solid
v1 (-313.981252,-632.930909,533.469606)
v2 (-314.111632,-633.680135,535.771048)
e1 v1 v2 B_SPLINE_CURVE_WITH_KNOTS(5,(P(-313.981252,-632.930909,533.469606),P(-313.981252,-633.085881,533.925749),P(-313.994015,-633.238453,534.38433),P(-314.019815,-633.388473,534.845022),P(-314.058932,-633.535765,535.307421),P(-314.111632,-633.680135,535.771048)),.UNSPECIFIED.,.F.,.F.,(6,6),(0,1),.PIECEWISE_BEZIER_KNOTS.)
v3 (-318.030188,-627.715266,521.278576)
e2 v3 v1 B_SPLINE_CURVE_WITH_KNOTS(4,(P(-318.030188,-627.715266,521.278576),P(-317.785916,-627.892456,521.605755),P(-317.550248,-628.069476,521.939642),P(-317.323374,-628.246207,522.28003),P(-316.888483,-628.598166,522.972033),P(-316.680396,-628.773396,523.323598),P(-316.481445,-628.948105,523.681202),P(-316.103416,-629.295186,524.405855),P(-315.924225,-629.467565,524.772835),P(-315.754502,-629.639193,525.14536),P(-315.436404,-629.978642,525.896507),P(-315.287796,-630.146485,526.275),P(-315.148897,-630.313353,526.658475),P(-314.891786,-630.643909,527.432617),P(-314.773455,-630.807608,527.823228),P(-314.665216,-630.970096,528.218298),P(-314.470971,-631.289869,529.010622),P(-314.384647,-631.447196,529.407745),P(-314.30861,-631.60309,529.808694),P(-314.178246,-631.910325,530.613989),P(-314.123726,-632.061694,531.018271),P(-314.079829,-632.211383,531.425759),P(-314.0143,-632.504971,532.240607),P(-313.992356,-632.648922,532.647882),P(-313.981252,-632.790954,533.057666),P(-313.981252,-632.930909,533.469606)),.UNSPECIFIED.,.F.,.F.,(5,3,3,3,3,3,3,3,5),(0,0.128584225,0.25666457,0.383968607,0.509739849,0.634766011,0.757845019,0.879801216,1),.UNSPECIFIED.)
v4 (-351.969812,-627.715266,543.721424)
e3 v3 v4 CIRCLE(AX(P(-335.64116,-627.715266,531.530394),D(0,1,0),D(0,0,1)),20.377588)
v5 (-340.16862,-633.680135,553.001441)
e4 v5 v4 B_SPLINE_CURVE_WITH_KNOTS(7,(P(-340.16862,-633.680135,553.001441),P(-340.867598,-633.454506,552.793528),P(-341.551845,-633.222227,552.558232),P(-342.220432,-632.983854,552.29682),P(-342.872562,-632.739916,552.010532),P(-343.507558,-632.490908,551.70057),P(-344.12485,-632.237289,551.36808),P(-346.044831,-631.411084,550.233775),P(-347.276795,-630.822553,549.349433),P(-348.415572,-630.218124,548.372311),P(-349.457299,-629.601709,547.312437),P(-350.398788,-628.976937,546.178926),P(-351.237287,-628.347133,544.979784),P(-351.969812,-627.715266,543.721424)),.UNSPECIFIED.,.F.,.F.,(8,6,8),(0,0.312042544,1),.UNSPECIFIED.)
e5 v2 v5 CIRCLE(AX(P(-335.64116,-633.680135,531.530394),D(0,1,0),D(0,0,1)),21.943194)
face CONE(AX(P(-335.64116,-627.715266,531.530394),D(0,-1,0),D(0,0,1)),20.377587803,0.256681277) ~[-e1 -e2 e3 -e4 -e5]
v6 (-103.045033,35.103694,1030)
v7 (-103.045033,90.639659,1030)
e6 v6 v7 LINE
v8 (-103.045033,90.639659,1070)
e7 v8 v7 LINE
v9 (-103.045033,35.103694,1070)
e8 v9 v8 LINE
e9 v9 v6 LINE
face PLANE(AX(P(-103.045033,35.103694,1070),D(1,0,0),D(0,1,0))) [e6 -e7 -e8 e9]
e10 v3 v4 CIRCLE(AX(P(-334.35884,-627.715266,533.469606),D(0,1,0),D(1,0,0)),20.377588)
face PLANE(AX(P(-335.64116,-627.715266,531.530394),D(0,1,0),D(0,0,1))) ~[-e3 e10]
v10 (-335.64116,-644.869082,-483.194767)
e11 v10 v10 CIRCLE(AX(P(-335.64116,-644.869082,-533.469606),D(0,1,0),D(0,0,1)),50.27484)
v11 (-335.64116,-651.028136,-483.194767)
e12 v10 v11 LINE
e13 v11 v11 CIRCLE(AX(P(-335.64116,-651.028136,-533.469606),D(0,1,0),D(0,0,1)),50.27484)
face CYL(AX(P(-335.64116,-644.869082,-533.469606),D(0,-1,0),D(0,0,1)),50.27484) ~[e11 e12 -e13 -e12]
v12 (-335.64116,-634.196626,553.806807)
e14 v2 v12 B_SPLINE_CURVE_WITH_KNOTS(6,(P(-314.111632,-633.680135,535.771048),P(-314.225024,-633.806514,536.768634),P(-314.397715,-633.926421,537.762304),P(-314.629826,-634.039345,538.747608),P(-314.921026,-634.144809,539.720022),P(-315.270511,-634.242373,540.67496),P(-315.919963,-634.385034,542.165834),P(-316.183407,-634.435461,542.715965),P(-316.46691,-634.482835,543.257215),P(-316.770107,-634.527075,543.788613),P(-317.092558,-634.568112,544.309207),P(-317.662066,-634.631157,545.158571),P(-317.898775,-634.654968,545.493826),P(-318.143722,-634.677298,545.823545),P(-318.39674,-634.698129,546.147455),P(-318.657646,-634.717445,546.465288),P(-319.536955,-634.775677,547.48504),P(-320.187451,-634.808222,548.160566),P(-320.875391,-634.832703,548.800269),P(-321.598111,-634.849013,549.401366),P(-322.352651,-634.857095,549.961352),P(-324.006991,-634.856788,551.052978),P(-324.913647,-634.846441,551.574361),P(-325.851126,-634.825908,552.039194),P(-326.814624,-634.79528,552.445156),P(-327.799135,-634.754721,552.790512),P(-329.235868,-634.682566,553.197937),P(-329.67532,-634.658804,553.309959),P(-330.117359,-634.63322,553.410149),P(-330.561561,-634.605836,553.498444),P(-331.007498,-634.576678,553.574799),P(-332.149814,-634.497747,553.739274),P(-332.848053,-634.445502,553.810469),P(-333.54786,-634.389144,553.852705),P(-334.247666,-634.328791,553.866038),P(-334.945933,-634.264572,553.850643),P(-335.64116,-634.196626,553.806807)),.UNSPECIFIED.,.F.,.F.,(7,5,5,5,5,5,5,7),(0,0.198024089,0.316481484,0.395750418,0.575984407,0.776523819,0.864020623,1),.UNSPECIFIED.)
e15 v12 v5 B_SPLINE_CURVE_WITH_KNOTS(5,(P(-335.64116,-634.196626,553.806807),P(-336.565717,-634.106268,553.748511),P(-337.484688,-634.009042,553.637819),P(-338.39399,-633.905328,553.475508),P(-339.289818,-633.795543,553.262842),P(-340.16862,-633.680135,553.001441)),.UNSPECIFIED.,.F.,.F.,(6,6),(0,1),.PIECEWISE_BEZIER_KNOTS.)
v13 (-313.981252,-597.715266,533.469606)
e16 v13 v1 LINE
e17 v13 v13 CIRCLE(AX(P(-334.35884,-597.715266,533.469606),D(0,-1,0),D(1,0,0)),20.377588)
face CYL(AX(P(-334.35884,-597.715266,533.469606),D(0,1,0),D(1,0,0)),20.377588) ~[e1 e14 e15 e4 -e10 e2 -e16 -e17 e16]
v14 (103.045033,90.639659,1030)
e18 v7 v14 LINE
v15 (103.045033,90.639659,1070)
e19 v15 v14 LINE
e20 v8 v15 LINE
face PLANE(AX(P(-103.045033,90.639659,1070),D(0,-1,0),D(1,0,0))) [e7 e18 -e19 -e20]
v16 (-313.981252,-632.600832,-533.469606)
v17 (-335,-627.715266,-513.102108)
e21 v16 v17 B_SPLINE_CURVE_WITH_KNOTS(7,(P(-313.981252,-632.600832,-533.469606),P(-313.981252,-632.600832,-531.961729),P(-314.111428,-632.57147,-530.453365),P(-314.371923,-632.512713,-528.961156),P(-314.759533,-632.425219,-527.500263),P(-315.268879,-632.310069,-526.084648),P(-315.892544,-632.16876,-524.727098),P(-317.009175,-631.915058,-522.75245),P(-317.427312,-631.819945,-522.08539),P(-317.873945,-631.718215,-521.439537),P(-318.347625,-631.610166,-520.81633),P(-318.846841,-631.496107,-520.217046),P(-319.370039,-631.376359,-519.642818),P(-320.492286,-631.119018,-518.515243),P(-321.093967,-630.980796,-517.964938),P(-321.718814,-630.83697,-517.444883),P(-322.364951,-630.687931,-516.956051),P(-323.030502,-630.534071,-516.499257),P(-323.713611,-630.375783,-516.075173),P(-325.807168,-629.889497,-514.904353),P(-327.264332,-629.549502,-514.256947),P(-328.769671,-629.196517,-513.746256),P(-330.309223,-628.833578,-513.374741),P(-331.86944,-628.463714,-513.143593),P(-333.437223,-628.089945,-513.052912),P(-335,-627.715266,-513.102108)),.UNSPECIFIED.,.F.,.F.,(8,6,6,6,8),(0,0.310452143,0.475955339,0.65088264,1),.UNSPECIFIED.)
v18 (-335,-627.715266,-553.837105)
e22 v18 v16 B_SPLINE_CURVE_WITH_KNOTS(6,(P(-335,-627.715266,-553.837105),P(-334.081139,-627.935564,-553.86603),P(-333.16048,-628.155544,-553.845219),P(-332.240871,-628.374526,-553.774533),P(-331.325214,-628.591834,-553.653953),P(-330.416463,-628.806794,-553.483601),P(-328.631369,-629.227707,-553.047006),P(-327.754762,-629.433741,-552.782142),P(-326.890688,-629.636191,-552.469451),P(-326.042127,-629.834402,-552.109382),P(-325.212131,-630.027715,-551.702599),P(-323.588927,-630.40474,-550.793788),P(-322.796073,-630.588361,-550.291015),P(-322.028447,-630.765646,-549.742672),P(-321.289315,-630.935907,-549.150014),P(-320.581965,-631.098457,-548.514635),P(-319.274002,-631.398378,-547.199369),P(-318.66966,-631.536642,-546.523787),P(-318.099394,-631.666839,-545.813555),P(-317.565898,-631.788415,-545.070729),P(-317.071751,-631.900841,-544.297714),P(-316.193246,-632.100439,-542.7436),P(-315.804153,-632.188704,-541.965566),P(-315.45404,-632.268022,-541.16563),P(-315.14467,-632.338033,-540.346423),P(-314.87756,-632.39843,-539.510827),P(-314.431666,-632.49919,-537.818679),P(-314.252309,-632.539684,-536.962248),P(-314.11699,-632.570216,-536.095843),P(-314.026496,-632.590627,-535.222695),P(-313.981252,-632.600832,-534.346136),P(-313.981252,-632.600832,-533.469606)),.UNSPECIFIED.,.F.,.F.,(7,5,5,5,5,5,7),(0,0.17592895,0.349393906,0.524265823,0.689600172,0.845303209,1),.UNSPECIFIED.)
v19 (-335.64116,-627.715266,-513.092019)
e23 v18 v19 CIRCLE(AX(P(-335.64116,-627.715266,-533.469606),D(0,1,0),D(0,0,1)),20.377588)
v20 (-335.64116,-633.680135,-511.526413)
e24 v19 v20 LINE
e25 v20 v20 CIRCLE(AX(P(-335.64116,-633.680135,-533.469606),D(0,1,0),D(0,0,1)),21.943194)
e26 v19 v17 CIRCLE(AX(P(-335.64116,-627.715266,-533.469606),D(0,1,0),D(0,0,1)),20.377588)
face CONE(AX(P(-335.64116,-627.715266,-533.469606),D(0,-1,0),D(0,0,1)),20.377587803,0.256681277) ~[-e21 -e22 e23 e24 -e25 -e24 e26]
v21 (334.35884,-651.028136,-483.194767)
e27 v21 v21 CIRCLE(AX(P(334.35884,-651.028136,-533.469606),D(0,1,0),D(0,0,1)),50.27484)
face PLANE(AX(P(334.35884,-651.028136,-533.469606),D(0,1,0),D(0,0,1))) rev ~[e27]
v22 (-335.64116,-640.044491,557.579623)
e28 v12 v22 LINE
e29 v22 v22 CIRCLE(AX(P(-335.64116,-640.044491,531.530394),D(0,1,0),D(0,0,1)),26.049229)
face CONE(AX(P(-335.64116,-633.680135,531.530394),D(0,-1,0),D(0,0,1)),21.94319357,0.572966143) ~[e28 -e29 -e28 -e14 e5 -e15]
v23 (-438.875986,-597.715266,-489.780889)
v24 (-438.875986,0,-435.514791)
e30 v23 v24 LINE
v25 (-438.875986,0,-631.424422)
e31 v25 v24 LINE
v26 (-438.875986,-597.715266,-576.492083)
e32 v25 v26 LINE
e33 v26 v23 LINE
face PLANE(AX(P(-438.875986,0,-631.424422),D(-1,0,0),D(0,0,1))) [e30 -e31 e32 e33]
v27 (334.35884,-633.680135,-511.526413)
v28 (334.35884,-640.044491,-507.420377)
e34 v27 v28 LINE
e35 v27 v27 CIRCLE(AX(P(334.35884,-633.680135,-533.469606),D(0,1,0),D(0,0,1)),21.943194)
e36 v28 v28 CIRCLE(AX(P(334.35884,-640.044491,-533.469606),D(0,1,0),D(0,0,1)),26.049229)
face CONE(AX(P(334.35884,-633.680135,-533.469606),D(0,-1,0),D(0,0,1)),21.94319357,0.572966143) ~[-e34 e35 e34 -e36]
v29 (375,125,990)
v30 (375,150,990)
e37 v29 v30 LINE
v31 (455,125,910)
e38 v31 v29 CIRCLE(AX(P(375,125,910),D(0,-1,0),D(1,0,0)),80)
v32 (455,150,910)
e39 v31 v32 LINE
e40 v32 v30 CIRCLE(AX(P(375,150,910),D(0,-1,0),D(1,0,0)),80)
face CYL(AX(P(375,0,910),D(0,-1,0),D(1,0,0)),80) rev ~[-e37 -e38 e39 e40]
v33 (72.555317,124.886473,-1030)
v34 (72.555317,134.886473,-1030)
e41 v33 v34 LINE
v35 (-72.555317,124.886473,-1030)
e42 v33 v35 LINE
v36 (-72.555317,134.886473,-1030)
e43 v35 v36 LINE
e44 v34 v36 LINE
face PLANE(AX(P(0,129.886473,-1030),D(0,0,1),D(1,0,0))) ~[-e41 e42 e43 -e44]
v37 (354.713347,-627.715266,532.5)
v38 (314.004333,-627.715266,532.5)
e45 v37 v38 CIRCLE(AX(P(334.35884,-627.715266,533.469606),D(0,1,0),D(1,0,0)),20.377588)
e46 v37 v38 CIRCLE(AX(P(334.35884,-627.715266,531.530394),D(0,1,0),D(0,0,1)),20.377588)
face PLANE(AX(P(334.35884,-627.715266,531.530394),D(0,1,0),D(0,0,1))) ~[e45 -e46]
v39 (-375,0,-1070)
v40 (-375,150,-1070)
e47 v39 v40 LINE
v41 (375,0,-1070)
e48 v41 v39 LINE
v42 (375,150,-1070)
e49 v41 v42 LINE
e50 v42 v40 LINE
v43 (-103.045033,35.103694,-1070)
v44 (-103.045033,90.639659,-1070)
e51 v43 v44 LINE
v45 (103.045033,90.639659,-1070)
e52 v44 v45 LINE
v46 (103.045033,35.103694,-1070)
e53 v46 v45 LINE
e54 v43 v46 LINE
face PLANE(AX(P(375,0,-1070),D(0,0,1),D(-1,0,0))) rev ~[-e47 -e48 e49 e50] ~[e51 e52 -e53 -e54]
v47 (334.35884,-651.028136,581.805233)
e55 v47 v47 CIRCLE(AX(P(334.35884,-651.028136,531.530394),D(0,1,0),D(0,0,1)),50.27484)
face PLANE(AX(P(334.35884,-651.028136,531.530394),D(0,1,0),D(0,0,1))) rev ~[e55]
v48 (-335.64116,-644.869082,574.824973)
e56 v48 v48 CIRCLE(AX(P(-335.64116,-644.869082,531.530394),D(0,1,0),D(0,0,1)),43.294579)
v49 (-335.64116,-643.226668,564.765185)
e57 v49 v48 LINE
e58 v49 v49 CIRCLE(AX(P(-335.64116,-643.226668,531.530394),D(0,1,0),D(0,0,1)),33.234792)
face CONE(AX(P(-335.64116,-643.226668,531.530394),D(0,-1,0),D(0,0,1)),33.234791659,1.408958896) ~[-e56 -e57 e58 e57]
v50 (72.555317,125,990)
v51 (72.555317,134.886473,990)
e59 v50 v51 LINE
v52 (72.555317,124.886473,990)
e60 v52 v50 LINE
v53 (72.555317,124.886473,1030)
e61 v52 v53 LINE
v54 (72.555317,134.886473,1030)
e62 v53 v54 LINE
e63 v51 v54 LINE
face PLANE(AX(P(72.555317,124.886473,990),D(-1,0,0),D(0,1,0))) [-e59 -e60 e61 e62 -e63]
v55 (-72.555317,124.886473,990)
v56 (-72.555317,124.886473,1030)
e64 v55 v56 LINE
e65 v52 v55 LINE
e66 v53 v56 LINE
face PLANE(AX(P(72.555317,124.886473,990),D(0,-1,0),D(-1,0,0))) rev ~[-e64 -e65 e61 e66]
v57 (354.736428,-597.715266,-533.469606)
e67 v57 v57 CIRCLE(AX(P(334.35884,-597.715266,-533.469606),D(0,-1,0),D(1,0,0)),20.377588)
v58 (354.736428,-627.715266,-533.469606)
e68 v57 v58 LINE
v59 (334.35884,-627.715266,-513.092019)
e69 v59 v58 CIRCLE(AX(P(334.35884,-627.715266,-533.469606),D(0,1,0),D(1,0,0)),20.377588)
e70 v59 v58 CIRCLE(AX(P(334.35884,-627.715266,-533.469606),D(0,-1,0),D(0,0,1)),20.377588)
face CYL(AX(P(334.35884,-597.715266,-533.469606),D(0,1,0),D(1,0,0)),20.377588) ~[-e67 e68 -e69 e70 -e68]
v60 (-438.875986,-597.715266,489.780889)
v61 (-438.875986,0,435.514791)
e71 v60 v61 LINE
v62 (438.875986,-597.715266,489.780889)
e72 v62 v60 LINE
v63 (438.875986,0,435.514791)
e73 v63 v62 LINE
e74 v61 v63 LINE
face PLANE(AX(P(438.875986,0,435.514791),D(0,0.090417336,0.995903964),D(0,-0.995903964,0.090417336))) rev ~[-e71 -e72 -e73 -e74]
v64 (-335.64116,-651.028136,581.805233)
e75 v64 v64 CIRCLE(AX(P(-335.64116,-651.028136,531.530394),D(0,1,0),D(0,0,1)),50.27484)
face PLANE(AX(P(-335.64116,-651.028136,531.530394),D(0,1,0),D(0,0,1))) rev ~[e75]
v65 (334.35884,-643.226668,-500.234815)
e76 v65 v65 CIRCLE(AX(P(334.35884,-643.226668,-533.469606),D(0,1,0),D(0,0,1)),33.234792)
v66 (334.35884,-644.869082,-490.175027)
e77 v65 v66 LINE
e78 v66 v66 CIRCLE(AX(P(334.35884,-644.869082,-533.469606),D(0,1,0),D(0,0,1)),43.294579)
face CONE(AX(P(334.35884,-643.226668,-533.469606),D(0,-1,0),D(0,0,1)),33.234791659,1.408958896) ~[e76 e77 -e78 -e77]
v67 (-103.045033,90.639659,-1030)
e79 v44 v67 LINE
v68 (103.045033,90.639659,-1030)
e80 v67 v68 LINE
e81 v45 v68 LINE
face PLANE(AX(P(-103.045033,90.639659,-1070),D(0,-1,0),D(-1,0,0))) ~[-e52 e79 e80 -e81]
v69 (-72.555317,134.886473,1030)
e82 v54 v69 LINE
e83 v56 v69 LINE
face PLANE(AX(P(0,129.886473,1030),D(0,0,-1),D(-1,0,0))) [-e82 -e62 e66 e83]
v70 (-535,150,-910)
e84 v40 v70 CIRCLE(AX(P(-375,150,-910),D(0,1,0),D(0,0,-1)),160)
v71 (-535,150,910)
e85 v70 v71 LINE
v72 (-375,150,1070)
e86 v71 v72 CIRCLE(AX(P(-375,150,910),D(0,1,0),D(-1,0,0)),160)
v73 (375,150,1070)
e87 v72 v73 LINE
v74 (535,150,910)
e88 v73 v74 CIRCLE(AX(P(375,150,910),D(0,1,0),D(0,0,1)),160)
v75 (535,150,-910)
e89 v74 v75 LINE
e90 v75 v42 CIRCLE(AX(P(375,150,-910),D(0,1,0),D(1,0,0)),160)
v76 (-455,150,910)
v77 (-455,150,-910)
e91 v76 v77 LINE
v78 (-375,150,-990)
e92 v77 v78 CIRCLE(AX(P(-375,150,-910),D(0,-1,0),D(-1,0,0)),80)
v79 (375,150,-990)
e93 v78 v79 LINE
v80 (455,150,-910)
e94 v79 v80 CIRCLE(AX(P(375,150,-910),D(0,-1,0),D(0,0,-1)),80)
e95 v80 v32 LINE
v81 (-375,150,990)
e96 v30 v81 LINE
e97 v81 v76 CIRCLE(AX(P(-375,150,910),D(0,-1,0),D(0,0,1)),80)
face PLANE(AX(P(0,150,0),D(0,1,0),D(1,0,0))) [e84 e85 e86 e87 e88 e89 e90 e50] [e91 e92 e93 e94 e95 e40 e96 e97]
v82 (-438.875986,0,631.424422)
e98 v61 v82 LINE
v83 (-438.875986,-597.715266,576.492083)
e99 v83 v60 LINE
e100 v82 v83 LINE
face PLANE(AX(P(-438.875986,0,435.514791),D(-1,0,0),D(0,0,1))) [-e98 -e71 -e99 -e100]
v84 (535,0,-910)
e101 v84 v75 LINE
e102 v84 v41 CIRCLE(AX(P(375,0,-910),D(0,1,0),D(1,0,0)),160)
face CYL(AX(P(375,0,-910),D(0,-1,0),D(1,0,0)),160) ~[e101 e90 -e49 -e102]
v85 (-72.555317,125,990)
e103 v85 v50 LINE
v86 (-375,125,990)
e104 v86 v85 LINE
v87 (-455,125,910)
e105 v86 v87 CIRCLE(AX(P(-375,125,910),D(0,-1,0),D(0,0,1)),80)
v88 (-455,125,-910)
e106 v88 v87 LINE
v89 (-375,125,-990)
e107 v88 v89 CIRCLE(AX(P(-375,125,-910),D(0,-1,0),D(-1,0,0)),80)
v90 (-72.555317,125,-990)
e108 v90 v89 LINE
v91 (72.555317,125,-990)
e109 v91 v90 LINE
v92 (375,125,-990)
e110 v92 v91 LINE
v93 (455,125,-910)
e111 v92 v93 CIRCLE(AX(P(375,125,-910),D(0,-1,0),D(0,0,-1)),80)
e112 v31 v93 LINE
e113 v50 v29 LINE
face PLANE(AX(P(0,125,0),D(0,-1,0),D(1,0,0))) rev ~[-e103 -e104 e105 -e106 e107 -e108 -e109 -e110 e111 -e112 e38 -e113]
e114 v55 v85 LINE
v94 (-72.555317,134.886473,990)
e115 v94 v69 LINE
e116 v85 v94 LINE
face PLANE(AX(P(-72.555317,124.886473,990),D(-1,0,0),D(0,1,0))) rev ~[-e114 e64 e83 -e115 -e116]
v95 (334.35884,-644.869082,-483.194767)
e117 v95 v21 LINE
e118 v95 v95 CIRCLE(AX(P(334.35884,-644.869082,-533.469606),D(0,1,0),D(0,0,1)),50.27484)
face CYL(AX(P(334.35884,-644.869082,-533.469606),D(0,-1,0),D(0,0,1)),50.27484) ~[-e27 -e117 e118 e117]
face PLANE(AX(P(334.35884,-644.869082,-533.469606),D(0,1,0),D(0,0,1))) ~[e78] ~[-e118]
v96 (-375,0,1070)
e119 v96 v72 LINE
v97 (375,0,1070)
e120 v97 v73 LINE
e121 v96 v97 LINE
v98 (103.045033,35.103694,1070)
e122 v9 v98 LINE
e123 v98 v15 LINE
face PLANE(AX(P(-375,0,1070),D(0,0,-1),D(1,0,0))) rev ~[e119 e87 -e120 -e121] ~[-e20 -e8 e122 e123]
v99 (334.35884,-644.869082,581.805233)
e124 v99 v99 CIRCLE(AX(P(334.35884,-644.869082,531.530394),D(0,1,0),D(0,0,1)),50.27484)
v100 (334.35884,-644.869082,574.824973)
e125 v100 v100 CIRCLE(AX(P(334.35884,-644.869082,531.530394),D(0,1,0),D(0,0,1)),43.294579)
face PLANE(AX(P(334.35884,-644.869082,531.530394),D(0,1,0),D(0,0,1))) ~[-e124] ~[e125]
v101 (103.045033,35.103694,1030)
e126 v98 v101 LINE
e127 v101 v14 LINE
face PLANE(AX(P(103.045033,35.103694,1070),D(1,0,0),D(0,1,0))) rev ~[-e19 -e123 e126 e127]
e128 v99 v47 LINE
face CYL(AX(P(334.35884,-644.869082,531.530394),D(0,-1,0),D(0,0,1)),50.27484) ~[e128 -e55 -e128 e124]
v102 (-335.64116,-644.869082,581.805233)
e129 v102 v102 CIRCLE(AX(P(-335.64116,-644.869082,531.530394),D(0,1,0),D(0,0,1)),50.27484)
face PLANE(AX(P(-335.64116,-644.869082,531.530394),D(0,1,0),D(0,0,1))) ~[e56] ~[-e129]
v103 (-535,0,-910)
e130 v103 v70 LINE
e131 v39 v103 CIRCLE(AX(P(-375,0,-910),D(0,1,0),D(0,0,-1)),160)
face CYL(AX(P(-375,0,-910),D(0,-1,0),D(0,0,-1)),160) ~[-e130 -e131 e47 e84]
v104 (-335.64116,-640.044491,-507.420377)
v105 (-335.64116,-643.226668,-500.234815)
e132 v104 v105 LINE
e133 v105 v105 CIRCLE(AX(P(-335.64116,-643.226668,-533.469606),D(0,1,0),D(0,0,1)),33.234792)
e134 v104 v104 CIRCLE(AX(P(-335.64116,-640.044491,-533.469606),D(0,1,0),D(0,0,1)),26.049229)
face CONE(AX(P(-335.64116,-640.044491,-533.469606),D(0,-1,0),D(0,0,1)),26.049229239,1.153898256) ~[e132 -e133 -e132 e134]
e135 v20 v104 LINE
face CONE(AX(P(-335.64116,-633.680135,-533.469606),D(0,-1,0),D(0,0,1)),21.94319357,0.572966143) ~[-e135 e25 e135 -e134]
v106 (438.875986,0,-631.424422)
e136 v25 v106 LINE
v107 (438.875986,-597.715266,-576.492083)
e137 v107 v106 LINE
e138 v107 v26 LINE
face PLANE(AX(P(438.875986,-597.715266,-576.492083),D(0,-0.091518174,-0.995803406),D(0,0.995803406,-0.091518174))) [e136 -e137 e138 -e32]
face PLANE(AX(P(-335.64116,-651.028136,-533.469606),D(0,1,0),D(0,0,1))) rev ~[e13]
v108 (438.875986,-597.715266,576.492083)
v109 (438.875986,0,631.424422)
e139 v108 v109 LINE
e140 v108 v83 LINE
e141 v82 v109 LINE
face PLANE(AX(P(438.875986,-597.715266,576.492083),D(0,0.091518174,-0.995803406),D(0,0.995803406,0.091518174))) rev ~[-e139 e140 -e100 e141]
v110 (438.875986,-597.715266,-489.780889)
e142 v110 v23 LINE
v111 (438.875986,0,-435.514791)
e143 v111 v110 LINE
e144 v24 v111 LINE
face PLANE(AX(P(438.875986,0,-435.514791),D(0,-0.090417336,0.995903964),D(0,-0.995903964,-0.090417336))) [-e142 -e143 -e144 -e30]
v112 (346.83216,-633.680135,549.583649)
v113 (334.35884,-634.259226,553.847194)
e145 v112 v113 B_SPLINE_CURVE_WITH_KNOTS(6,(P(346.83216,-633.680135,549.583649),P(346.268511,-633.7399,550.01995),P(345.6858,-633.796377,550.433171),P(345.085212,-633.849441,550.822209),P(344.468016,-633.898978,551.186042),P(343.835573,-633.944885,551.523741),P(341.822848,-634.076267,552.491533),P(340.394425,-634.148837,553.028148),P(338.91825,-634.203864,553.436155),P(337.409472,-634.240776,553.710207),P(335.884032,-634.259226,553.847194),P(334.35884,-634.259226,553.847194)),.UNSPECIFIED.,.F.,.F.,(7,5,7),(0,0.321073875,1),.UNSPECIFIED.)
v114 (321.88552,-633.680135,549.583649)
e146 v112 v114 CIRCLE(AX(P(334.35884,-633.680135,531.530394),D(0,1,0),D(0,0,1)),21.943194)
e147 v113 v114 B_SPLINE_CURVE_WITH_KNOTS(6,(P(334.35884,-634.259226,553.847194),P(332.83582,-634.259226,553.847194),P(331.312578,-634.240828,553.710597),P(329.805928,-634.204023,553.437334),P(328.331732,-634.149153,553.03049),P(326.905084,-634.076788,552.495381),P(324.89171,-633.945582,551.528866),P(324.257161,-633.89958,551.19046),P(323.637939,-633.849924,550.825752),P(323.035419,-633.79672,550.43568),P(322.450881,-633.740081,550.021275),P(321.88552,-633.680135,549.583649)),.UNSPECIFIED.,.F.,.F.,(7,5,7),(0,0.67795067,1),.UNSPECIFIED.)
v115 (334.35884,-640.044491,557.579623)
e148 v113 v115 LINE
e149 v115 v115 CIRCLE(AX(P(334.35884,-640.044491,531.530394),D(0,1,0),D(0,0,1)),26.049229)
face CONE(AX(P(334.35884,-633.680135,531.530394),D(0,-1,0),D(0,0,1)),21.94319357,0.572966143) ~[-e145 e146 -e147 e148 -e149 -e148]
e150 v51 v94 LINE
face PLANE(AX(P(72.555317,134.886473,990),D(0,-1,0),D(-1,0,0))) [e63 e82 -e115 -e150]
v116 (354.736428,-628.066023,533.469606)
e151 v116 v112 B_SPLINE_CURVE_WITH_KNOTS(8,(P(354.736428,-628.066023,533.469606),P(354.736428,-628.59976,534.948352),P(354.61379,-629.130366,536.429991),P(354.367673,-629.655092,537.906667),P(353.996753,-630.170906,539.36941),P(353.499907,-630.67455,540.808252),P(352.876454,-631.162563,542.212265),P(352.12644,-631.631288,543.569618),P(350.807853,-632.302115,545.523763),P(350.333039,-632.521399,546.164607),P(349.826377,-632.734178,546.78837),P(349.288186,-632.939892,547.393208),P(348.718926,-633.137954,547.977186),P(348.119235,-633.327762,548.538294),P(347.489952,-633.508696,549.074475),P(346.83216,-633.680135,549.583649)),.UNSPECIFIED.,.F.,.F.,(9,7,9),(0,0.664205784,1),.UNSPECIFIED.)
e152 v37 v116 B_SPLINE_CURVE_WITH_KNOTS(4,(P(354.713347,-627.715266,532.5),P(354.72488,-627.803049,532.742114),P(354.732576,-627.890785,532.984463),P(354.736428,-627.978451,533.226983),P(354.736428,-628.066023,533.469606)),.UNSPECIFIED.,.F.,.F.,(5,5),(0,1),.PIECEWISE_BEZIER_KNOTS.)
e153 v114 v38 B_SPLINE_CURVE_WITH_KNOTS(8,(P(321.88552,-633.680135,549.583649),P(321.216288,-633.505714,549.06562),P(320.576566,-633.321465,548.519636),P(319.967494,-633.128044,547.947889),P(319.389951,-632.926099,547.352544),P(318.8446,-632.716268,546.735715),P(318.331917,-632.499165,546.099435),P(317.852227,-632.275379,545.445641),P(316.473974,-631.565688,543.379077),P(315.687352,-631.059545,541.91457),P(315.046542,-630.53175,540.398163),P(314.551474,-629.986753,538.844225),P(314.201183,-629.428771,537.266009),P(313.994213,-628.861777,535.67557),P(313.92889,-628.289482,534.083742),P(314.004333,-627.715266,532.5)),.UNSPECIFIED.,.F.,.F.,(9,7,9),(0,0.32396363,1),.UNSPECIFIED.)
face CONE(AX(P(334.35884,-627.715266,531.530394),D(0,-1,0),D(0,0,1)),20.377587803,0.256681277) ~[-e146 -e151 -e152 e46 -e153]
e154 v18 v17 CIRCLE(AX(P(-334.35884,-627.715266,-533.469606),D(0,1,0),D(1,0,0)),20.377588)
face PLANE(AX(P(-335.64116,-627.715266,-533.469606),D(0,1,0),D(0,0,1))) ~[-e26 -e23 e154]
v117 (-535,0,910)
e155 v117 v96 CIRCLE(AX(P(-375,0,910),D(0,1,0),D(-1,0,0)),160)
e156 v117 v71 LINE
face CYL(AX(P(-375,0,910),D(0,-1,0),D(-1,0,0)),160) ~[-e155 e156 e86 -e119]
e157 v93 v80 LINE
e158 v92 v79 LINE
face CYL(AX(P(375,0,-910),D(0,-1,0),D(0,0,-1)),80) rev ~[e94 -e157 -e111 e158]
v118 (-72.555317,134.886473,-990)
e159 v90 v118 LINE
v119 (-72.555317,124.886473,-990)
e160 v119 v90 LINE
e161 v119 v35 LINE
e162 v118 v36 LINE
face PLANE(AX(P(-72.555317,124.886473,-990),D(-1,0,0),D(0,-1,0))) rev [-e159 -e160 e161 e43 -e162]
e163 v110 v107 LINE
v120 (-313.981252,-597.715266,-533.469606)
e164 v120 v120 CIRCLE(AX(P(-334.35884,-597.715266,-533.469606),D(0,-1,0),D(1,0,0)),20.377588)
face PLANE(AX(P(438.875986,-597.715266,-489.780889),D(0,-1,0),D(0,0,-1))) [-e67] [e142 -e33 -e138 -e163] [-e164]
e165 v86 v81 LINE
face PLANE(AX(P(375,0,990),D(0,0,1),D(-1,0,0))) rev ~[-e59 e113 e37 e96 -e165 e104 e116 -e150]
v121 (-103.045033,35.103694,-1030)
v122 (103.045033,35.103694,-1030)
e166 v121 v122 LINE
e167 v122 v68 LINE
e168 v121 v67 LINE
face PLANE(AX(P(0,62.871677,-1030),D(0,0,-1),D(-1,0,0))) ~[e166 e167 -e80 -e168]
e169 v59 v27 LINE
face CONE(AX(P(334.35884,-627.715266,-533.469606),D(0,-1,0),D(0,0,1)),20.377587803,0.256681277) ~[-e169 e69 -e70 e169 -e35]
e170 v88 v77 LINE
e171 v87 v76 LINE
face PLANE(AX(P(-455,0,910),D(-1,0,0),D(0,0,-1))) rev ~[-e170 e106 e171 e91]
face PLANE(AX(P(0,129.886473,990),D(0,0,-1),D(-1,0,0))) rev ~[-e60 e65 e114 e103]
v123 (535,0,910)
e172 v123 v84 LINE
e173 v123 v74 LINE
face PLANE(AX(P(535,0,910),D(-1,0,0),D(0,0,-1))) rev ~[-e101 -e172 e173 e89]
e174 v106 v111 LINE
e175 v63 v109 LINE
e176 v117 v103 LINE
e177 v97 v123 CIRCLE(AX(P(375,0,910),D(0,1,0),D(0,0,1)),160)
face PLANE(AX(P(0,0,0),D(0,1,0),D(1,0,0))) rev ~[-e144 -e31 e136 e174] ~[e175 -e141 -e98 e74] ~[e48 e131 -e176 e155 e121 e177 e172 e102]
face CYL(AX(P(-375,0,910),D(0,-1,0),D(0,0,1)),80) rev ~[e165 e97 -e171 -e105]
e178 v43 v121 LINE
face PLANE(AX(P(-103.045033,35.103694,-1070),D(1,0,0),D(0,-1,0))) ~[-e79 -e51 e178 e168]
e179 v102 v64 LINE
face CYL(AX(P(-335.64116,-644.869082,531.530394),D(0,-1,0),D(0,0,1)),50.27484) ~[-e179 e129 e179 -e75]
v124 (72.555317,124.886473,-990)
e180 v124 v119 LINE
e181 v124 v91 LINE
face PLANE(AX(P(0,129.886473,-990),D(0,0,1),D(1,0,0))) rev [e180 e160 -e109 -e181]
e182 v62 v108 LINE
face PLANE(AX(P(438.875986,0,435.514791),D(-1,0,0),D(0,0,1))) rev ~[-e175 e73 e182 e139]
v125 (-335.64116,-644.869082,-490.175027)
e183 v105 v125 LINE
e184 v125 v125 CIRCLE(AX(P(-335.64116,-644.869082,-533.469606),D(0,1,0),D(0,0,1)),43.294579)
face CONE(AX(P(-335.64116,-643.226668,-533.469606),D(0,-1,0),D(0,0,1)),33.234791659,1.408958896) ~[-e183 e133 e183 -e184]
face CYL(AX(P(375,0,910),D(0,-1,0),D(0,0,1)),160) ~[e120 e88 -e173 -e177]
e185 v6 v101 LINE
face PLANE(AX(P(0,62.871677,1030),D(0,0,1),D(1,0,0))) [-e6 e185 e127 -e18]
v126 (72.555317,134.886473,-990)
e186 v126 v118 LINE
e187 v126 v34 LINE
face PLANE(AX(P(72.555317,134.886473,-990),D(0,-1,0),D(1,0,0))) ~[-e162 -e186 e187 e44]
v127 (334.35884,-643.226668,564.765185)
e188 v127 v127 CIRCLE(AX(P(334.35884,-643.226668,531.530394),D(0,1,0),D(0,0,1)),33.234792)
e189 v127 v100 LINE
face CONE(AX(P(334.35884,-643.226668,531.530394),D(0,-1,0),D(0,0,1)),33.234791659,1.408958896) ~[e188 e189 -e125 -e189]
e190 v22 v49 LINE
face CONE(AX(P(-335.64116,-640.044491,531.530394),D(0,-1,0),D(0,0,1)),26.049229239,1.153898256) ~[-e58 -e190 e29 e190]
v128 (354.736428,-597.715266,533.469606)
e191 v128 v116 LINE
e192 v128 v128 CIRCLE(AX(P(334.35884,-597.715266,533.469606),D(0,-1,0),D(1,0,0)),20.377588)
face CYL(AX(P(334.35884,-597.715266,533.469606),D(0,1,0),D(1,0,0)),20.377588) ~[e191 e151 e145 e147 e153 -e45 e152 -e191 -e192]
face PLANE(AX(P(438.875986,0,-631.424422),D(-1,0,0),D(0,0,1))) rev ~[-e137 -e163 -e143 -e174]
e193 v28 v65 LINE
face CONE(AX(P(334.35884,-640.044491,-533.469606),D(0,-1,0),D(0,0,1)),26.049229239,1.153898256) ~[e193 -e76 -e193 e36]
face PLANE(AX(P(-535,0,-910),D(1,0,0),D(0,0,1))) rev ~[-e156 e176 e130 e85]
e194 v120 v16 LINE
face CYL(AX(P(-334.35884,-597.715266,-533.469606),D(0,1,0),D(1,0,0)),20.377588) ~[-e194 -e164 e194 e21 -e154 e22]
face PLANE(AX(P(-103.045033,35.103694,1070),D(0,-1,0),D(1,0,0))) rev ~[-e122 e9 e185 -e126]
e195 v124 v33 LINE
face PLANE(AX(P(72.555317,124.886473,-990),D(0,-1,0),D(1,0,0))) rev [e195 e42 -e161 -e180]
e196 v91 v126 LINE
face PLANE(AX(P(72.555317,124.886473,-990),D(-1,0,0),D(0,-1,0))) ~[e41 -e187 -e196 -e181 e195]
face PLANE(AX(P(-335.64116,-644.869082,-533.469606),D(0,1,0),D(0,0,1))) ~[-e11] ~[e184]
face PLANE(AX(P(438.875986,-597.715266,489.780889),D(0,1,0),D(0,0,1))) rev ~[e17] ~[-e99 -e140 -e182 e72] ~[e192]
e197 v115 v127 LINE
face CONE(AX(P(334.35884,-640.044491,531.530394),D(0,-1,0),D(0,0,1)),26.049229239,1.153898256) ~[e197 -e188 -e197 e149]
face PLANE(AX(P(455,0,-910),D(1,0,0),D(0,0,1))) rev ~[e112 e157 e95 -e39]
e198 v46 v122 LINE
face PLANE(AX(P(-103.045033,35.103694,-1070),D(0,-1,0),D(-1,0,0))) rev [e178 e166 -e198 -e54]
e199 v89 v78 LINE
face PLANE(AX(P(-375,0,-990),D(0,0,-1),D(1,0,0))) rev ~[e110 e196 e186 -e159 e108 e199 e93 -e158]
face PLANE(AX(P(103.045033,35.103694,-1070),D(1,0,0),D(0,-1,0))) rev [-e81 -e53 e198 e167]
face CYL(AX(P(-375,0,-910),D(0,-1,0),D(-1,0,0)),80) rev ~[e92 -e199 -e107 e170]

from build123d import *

# Parameters (mm, degrees)
BOSS_EXTRUDE1_DEPTH  = 150
SKETCH3_W            = 943.281144354
SKETCH3_H            = 2008.356165054
BOSS_EXTRUDE2_DEPTH  = 125
SKETCH4_W            = 877.751971552
SKETCH4_H            = 195.909630412
BOSS_EXTRUDE3_DEPTH  = 670
CUT_EXTRUDE1_DEPTH   = 1095
SKETCH6_R            = 20.377587803
BOSS_EXTRUDE4_DEPTH  = 40
SKETCH7_W            = 40.755175605
SKETCH7_H            = 40.755175605
CUT_EXTRUDE2_DEPTH   = 10
LPATTERN1_COUNT      = 2
LPATTERN1_PITCH      = 670
LPATTERN1_COUNT_DIR2 = 2
LPATTERN1_PITCH_DIR2 = 1065
SKETCH9_W            = 206.090065038
SKETCH9_H            = 55.535964875
CUT_EXTRUDE3_DEPTH   = 40
SKETCH10_W           = 145.11063413
SKETCH10_H           = 10
CUT_EXTRUDE4_DEPTH   = 40


with BuildPart() as part:
    # Sketch1 → Boss-Extrude1 (new body)
    with BuildSketch(Plane(origin=(0, 0, 0), x_dir=(1, 0, 0), z_dir=(0, 1, 0))):
        with BuildLine():
            Line((-535, 910), (-535, -910))
            ThreePointArc((-535, -910), (-488.13708499, -1023.13708499), (-375, -1070))
            Line((-375, -1070), (375, -1070))
            ThreePointArc((375, -1070), (488.13708499, -1023.13708499), (535, -910))
            Line((535, -910), (535, 910))
            ThreePointArc((535, 910), (488.13708499, 1023.13708499), (375, 1070))
            Line((375, 1070), (-375, 1070))
            ThreePointArc((-375, 1070), (-488.13708499, 1023.13708499), (-535, 910))
        make_face()
        with BuildLine():
            Line((-375, 990), (375, 990))
            ThreePointArc((375, 990), (431.568542495, 966.568542495), (455, 910))
            Line((455, 910), (455, -910))
            ThreePointArc((455, -910), (431.568542495, -966.568542495), (375, -990))
            Line((375, -990), (-375, -990))
            ThreePointArc((-375, -990), (-431.568542495, -966.568542495), (-455, -910))
            Line((-455, -910), (-455, 910))
            ThreePointArc((-455, 910), (-431.568542495, 966.568542495), (-375, 990))
        make_face(mode=Mode.SUBTRACT)
    extrude(amount=BOSS_EXTRUDE1_DEPTH)

    # Sketch3 → Boss-Extrude2 (add)
    with BuildSketch(Plane.XZ):
        Rectangle(SKETCH3_W, SKETCH3_H)
    extrude(amount=-BOSS_EXTRUDE2_DEPTH)

    # Sketch4 → Boss-Extrude3 (add)
    with BuildSketch(Plane.XZ):
        with Locations((0, 533.469606343)):
            Rectangle(SKETCH4_W, SKETCH4_H)
        with Locations((0, -533.469606343)):
            Rectangle(SKETCH4_W, SKETCH4_H)
    extrude(amount=BOSS_EXTRUDE3_DEPTH)

    # Sketch5 → Cut-Extrude1 (cut)
    with BuildSketch(Plane(origin=(438.875985776, 0, 0), x_dir=(0, 0, -1), z_dir=(1, 0, 0))):
        Polygon((-576.492082972, -597.71526573), (-631.424421549, 0), (-813.99135503, -798.682277913), (-322.424833628, -798.682277913), (-435.514791137, 0), (-489.780888803, -597.71526573), align=None)
        Polygon((435.514791137, 0), (489.780888803, -597.71526573), (576.492082972, -597.71526573), (631.424421549, 0), (813.99135503, -798.682277913), (322.424833628, -798.682277913), align=None)
    extrude(amount=-CUT_EXTRUDE1_DEPTH, mode=Mode.SUBTRACT)

    # Sketch6 → Boss-Extrude4 (add)
    with BuildSketch(Plane.XZ.offset(597.71526573)):
        with Locations((334.358840028, -533.469606343)):
            Circle(SKETCH6_R)
        with Locations((-334.358840028, -533.469606343)):
            Circle(SKETCH6_R)
        with Locations((-334.358840028, 533.469606343)):
            Circle(SKETCH6_R)
        with Locations((334.358840028, 533.469606343)):
            Circle(SKETCH6_R)
    extrude(amount=BOSS_EXTRUDE4_DEPTH)

    # Sketch7 → Cut-Extrude2 (cut)
    with BuildSketch(Plane.XZ.offset(637.71526573)):
        with Locations((354.736427831, -533.469606343)):
            Rectangle(SKETCH7_W, SKETCH7_H)
    extrude(amount=-CUT_EXTRUDE2_DEPTH, mode=Mode.SUBTRACT)

    # Sketch8 → Revolve1 (revolve)
    with BuildSketch(Plane(origin=(334.358840028, 0, 0), x_dir=(0, 0, -1), z_dir=(1, 0, 0))):
        Polygon((513.09201854, -627.71526573), (511.526412773, -633.680135283), (507.420377104, -640.04449057), (500.234814684, -643.226668213), (490.175027295, -644.86908248), (483.194766658, -644.86908248), (483.194766658, -651.028135984), (533.469606343, -651.028135984), (533.469606343, -627.71526573), align=None)
    revolve1 = revolve(axis=Axis((334.358840028, -651.028135984, -533.469606343), (0, 1, 0)))

    # LPattern1: Revolve1 2 × 2
    with Locations(*[(-i * LPATTERN1_PITCH, 0, j * LPATTERN1_PITCH_DIR2) for i in range(LPATTERN1_COUNT) for j in range(LPATTERN1_COUNT_DIR2) if (i, j) != (0, 0)]):
        add(revolve1)

    # Sketch9 → Cut-Extrude3 (cut)
    with BuildSketch(Plane.XY.offset(1070)):
        with Locations((0, 62.871676898)):
            Rectangle(SKETCH9_W, SKETCH9_H)
    cut_extrude3 = extrude(amount=-CUT_EXTRUDE3_DEPTH, mode=Mode.SUBTRACT)

    # Sketch10 → Cut-Extrude4 (cut)
    with BuildSketch(Plane(origin=(0, 0, 990), x_dir=(-1, 0, 0), z_dir=(0, 0, -1))):
        with Locations((0, 129.886472927)):
            Rectangle(SKETCH10_W, SKETCH10_H)
    cut_extrude4 = extrude(amount=-CUT_EXTRUDE4_DEPTH, mode=Mode.SUBTRACT)

    # Mirror1: Cut-Extrude3, Cut-Extrude4 across plane
    add(cut_extrude3.mirror(Plane.XY), mode=Mode.SUBTRACT)
    add(cut_extrude4.mirror(Plane.XY), mode=Mode.SUBTRACT)


solid = part.part
